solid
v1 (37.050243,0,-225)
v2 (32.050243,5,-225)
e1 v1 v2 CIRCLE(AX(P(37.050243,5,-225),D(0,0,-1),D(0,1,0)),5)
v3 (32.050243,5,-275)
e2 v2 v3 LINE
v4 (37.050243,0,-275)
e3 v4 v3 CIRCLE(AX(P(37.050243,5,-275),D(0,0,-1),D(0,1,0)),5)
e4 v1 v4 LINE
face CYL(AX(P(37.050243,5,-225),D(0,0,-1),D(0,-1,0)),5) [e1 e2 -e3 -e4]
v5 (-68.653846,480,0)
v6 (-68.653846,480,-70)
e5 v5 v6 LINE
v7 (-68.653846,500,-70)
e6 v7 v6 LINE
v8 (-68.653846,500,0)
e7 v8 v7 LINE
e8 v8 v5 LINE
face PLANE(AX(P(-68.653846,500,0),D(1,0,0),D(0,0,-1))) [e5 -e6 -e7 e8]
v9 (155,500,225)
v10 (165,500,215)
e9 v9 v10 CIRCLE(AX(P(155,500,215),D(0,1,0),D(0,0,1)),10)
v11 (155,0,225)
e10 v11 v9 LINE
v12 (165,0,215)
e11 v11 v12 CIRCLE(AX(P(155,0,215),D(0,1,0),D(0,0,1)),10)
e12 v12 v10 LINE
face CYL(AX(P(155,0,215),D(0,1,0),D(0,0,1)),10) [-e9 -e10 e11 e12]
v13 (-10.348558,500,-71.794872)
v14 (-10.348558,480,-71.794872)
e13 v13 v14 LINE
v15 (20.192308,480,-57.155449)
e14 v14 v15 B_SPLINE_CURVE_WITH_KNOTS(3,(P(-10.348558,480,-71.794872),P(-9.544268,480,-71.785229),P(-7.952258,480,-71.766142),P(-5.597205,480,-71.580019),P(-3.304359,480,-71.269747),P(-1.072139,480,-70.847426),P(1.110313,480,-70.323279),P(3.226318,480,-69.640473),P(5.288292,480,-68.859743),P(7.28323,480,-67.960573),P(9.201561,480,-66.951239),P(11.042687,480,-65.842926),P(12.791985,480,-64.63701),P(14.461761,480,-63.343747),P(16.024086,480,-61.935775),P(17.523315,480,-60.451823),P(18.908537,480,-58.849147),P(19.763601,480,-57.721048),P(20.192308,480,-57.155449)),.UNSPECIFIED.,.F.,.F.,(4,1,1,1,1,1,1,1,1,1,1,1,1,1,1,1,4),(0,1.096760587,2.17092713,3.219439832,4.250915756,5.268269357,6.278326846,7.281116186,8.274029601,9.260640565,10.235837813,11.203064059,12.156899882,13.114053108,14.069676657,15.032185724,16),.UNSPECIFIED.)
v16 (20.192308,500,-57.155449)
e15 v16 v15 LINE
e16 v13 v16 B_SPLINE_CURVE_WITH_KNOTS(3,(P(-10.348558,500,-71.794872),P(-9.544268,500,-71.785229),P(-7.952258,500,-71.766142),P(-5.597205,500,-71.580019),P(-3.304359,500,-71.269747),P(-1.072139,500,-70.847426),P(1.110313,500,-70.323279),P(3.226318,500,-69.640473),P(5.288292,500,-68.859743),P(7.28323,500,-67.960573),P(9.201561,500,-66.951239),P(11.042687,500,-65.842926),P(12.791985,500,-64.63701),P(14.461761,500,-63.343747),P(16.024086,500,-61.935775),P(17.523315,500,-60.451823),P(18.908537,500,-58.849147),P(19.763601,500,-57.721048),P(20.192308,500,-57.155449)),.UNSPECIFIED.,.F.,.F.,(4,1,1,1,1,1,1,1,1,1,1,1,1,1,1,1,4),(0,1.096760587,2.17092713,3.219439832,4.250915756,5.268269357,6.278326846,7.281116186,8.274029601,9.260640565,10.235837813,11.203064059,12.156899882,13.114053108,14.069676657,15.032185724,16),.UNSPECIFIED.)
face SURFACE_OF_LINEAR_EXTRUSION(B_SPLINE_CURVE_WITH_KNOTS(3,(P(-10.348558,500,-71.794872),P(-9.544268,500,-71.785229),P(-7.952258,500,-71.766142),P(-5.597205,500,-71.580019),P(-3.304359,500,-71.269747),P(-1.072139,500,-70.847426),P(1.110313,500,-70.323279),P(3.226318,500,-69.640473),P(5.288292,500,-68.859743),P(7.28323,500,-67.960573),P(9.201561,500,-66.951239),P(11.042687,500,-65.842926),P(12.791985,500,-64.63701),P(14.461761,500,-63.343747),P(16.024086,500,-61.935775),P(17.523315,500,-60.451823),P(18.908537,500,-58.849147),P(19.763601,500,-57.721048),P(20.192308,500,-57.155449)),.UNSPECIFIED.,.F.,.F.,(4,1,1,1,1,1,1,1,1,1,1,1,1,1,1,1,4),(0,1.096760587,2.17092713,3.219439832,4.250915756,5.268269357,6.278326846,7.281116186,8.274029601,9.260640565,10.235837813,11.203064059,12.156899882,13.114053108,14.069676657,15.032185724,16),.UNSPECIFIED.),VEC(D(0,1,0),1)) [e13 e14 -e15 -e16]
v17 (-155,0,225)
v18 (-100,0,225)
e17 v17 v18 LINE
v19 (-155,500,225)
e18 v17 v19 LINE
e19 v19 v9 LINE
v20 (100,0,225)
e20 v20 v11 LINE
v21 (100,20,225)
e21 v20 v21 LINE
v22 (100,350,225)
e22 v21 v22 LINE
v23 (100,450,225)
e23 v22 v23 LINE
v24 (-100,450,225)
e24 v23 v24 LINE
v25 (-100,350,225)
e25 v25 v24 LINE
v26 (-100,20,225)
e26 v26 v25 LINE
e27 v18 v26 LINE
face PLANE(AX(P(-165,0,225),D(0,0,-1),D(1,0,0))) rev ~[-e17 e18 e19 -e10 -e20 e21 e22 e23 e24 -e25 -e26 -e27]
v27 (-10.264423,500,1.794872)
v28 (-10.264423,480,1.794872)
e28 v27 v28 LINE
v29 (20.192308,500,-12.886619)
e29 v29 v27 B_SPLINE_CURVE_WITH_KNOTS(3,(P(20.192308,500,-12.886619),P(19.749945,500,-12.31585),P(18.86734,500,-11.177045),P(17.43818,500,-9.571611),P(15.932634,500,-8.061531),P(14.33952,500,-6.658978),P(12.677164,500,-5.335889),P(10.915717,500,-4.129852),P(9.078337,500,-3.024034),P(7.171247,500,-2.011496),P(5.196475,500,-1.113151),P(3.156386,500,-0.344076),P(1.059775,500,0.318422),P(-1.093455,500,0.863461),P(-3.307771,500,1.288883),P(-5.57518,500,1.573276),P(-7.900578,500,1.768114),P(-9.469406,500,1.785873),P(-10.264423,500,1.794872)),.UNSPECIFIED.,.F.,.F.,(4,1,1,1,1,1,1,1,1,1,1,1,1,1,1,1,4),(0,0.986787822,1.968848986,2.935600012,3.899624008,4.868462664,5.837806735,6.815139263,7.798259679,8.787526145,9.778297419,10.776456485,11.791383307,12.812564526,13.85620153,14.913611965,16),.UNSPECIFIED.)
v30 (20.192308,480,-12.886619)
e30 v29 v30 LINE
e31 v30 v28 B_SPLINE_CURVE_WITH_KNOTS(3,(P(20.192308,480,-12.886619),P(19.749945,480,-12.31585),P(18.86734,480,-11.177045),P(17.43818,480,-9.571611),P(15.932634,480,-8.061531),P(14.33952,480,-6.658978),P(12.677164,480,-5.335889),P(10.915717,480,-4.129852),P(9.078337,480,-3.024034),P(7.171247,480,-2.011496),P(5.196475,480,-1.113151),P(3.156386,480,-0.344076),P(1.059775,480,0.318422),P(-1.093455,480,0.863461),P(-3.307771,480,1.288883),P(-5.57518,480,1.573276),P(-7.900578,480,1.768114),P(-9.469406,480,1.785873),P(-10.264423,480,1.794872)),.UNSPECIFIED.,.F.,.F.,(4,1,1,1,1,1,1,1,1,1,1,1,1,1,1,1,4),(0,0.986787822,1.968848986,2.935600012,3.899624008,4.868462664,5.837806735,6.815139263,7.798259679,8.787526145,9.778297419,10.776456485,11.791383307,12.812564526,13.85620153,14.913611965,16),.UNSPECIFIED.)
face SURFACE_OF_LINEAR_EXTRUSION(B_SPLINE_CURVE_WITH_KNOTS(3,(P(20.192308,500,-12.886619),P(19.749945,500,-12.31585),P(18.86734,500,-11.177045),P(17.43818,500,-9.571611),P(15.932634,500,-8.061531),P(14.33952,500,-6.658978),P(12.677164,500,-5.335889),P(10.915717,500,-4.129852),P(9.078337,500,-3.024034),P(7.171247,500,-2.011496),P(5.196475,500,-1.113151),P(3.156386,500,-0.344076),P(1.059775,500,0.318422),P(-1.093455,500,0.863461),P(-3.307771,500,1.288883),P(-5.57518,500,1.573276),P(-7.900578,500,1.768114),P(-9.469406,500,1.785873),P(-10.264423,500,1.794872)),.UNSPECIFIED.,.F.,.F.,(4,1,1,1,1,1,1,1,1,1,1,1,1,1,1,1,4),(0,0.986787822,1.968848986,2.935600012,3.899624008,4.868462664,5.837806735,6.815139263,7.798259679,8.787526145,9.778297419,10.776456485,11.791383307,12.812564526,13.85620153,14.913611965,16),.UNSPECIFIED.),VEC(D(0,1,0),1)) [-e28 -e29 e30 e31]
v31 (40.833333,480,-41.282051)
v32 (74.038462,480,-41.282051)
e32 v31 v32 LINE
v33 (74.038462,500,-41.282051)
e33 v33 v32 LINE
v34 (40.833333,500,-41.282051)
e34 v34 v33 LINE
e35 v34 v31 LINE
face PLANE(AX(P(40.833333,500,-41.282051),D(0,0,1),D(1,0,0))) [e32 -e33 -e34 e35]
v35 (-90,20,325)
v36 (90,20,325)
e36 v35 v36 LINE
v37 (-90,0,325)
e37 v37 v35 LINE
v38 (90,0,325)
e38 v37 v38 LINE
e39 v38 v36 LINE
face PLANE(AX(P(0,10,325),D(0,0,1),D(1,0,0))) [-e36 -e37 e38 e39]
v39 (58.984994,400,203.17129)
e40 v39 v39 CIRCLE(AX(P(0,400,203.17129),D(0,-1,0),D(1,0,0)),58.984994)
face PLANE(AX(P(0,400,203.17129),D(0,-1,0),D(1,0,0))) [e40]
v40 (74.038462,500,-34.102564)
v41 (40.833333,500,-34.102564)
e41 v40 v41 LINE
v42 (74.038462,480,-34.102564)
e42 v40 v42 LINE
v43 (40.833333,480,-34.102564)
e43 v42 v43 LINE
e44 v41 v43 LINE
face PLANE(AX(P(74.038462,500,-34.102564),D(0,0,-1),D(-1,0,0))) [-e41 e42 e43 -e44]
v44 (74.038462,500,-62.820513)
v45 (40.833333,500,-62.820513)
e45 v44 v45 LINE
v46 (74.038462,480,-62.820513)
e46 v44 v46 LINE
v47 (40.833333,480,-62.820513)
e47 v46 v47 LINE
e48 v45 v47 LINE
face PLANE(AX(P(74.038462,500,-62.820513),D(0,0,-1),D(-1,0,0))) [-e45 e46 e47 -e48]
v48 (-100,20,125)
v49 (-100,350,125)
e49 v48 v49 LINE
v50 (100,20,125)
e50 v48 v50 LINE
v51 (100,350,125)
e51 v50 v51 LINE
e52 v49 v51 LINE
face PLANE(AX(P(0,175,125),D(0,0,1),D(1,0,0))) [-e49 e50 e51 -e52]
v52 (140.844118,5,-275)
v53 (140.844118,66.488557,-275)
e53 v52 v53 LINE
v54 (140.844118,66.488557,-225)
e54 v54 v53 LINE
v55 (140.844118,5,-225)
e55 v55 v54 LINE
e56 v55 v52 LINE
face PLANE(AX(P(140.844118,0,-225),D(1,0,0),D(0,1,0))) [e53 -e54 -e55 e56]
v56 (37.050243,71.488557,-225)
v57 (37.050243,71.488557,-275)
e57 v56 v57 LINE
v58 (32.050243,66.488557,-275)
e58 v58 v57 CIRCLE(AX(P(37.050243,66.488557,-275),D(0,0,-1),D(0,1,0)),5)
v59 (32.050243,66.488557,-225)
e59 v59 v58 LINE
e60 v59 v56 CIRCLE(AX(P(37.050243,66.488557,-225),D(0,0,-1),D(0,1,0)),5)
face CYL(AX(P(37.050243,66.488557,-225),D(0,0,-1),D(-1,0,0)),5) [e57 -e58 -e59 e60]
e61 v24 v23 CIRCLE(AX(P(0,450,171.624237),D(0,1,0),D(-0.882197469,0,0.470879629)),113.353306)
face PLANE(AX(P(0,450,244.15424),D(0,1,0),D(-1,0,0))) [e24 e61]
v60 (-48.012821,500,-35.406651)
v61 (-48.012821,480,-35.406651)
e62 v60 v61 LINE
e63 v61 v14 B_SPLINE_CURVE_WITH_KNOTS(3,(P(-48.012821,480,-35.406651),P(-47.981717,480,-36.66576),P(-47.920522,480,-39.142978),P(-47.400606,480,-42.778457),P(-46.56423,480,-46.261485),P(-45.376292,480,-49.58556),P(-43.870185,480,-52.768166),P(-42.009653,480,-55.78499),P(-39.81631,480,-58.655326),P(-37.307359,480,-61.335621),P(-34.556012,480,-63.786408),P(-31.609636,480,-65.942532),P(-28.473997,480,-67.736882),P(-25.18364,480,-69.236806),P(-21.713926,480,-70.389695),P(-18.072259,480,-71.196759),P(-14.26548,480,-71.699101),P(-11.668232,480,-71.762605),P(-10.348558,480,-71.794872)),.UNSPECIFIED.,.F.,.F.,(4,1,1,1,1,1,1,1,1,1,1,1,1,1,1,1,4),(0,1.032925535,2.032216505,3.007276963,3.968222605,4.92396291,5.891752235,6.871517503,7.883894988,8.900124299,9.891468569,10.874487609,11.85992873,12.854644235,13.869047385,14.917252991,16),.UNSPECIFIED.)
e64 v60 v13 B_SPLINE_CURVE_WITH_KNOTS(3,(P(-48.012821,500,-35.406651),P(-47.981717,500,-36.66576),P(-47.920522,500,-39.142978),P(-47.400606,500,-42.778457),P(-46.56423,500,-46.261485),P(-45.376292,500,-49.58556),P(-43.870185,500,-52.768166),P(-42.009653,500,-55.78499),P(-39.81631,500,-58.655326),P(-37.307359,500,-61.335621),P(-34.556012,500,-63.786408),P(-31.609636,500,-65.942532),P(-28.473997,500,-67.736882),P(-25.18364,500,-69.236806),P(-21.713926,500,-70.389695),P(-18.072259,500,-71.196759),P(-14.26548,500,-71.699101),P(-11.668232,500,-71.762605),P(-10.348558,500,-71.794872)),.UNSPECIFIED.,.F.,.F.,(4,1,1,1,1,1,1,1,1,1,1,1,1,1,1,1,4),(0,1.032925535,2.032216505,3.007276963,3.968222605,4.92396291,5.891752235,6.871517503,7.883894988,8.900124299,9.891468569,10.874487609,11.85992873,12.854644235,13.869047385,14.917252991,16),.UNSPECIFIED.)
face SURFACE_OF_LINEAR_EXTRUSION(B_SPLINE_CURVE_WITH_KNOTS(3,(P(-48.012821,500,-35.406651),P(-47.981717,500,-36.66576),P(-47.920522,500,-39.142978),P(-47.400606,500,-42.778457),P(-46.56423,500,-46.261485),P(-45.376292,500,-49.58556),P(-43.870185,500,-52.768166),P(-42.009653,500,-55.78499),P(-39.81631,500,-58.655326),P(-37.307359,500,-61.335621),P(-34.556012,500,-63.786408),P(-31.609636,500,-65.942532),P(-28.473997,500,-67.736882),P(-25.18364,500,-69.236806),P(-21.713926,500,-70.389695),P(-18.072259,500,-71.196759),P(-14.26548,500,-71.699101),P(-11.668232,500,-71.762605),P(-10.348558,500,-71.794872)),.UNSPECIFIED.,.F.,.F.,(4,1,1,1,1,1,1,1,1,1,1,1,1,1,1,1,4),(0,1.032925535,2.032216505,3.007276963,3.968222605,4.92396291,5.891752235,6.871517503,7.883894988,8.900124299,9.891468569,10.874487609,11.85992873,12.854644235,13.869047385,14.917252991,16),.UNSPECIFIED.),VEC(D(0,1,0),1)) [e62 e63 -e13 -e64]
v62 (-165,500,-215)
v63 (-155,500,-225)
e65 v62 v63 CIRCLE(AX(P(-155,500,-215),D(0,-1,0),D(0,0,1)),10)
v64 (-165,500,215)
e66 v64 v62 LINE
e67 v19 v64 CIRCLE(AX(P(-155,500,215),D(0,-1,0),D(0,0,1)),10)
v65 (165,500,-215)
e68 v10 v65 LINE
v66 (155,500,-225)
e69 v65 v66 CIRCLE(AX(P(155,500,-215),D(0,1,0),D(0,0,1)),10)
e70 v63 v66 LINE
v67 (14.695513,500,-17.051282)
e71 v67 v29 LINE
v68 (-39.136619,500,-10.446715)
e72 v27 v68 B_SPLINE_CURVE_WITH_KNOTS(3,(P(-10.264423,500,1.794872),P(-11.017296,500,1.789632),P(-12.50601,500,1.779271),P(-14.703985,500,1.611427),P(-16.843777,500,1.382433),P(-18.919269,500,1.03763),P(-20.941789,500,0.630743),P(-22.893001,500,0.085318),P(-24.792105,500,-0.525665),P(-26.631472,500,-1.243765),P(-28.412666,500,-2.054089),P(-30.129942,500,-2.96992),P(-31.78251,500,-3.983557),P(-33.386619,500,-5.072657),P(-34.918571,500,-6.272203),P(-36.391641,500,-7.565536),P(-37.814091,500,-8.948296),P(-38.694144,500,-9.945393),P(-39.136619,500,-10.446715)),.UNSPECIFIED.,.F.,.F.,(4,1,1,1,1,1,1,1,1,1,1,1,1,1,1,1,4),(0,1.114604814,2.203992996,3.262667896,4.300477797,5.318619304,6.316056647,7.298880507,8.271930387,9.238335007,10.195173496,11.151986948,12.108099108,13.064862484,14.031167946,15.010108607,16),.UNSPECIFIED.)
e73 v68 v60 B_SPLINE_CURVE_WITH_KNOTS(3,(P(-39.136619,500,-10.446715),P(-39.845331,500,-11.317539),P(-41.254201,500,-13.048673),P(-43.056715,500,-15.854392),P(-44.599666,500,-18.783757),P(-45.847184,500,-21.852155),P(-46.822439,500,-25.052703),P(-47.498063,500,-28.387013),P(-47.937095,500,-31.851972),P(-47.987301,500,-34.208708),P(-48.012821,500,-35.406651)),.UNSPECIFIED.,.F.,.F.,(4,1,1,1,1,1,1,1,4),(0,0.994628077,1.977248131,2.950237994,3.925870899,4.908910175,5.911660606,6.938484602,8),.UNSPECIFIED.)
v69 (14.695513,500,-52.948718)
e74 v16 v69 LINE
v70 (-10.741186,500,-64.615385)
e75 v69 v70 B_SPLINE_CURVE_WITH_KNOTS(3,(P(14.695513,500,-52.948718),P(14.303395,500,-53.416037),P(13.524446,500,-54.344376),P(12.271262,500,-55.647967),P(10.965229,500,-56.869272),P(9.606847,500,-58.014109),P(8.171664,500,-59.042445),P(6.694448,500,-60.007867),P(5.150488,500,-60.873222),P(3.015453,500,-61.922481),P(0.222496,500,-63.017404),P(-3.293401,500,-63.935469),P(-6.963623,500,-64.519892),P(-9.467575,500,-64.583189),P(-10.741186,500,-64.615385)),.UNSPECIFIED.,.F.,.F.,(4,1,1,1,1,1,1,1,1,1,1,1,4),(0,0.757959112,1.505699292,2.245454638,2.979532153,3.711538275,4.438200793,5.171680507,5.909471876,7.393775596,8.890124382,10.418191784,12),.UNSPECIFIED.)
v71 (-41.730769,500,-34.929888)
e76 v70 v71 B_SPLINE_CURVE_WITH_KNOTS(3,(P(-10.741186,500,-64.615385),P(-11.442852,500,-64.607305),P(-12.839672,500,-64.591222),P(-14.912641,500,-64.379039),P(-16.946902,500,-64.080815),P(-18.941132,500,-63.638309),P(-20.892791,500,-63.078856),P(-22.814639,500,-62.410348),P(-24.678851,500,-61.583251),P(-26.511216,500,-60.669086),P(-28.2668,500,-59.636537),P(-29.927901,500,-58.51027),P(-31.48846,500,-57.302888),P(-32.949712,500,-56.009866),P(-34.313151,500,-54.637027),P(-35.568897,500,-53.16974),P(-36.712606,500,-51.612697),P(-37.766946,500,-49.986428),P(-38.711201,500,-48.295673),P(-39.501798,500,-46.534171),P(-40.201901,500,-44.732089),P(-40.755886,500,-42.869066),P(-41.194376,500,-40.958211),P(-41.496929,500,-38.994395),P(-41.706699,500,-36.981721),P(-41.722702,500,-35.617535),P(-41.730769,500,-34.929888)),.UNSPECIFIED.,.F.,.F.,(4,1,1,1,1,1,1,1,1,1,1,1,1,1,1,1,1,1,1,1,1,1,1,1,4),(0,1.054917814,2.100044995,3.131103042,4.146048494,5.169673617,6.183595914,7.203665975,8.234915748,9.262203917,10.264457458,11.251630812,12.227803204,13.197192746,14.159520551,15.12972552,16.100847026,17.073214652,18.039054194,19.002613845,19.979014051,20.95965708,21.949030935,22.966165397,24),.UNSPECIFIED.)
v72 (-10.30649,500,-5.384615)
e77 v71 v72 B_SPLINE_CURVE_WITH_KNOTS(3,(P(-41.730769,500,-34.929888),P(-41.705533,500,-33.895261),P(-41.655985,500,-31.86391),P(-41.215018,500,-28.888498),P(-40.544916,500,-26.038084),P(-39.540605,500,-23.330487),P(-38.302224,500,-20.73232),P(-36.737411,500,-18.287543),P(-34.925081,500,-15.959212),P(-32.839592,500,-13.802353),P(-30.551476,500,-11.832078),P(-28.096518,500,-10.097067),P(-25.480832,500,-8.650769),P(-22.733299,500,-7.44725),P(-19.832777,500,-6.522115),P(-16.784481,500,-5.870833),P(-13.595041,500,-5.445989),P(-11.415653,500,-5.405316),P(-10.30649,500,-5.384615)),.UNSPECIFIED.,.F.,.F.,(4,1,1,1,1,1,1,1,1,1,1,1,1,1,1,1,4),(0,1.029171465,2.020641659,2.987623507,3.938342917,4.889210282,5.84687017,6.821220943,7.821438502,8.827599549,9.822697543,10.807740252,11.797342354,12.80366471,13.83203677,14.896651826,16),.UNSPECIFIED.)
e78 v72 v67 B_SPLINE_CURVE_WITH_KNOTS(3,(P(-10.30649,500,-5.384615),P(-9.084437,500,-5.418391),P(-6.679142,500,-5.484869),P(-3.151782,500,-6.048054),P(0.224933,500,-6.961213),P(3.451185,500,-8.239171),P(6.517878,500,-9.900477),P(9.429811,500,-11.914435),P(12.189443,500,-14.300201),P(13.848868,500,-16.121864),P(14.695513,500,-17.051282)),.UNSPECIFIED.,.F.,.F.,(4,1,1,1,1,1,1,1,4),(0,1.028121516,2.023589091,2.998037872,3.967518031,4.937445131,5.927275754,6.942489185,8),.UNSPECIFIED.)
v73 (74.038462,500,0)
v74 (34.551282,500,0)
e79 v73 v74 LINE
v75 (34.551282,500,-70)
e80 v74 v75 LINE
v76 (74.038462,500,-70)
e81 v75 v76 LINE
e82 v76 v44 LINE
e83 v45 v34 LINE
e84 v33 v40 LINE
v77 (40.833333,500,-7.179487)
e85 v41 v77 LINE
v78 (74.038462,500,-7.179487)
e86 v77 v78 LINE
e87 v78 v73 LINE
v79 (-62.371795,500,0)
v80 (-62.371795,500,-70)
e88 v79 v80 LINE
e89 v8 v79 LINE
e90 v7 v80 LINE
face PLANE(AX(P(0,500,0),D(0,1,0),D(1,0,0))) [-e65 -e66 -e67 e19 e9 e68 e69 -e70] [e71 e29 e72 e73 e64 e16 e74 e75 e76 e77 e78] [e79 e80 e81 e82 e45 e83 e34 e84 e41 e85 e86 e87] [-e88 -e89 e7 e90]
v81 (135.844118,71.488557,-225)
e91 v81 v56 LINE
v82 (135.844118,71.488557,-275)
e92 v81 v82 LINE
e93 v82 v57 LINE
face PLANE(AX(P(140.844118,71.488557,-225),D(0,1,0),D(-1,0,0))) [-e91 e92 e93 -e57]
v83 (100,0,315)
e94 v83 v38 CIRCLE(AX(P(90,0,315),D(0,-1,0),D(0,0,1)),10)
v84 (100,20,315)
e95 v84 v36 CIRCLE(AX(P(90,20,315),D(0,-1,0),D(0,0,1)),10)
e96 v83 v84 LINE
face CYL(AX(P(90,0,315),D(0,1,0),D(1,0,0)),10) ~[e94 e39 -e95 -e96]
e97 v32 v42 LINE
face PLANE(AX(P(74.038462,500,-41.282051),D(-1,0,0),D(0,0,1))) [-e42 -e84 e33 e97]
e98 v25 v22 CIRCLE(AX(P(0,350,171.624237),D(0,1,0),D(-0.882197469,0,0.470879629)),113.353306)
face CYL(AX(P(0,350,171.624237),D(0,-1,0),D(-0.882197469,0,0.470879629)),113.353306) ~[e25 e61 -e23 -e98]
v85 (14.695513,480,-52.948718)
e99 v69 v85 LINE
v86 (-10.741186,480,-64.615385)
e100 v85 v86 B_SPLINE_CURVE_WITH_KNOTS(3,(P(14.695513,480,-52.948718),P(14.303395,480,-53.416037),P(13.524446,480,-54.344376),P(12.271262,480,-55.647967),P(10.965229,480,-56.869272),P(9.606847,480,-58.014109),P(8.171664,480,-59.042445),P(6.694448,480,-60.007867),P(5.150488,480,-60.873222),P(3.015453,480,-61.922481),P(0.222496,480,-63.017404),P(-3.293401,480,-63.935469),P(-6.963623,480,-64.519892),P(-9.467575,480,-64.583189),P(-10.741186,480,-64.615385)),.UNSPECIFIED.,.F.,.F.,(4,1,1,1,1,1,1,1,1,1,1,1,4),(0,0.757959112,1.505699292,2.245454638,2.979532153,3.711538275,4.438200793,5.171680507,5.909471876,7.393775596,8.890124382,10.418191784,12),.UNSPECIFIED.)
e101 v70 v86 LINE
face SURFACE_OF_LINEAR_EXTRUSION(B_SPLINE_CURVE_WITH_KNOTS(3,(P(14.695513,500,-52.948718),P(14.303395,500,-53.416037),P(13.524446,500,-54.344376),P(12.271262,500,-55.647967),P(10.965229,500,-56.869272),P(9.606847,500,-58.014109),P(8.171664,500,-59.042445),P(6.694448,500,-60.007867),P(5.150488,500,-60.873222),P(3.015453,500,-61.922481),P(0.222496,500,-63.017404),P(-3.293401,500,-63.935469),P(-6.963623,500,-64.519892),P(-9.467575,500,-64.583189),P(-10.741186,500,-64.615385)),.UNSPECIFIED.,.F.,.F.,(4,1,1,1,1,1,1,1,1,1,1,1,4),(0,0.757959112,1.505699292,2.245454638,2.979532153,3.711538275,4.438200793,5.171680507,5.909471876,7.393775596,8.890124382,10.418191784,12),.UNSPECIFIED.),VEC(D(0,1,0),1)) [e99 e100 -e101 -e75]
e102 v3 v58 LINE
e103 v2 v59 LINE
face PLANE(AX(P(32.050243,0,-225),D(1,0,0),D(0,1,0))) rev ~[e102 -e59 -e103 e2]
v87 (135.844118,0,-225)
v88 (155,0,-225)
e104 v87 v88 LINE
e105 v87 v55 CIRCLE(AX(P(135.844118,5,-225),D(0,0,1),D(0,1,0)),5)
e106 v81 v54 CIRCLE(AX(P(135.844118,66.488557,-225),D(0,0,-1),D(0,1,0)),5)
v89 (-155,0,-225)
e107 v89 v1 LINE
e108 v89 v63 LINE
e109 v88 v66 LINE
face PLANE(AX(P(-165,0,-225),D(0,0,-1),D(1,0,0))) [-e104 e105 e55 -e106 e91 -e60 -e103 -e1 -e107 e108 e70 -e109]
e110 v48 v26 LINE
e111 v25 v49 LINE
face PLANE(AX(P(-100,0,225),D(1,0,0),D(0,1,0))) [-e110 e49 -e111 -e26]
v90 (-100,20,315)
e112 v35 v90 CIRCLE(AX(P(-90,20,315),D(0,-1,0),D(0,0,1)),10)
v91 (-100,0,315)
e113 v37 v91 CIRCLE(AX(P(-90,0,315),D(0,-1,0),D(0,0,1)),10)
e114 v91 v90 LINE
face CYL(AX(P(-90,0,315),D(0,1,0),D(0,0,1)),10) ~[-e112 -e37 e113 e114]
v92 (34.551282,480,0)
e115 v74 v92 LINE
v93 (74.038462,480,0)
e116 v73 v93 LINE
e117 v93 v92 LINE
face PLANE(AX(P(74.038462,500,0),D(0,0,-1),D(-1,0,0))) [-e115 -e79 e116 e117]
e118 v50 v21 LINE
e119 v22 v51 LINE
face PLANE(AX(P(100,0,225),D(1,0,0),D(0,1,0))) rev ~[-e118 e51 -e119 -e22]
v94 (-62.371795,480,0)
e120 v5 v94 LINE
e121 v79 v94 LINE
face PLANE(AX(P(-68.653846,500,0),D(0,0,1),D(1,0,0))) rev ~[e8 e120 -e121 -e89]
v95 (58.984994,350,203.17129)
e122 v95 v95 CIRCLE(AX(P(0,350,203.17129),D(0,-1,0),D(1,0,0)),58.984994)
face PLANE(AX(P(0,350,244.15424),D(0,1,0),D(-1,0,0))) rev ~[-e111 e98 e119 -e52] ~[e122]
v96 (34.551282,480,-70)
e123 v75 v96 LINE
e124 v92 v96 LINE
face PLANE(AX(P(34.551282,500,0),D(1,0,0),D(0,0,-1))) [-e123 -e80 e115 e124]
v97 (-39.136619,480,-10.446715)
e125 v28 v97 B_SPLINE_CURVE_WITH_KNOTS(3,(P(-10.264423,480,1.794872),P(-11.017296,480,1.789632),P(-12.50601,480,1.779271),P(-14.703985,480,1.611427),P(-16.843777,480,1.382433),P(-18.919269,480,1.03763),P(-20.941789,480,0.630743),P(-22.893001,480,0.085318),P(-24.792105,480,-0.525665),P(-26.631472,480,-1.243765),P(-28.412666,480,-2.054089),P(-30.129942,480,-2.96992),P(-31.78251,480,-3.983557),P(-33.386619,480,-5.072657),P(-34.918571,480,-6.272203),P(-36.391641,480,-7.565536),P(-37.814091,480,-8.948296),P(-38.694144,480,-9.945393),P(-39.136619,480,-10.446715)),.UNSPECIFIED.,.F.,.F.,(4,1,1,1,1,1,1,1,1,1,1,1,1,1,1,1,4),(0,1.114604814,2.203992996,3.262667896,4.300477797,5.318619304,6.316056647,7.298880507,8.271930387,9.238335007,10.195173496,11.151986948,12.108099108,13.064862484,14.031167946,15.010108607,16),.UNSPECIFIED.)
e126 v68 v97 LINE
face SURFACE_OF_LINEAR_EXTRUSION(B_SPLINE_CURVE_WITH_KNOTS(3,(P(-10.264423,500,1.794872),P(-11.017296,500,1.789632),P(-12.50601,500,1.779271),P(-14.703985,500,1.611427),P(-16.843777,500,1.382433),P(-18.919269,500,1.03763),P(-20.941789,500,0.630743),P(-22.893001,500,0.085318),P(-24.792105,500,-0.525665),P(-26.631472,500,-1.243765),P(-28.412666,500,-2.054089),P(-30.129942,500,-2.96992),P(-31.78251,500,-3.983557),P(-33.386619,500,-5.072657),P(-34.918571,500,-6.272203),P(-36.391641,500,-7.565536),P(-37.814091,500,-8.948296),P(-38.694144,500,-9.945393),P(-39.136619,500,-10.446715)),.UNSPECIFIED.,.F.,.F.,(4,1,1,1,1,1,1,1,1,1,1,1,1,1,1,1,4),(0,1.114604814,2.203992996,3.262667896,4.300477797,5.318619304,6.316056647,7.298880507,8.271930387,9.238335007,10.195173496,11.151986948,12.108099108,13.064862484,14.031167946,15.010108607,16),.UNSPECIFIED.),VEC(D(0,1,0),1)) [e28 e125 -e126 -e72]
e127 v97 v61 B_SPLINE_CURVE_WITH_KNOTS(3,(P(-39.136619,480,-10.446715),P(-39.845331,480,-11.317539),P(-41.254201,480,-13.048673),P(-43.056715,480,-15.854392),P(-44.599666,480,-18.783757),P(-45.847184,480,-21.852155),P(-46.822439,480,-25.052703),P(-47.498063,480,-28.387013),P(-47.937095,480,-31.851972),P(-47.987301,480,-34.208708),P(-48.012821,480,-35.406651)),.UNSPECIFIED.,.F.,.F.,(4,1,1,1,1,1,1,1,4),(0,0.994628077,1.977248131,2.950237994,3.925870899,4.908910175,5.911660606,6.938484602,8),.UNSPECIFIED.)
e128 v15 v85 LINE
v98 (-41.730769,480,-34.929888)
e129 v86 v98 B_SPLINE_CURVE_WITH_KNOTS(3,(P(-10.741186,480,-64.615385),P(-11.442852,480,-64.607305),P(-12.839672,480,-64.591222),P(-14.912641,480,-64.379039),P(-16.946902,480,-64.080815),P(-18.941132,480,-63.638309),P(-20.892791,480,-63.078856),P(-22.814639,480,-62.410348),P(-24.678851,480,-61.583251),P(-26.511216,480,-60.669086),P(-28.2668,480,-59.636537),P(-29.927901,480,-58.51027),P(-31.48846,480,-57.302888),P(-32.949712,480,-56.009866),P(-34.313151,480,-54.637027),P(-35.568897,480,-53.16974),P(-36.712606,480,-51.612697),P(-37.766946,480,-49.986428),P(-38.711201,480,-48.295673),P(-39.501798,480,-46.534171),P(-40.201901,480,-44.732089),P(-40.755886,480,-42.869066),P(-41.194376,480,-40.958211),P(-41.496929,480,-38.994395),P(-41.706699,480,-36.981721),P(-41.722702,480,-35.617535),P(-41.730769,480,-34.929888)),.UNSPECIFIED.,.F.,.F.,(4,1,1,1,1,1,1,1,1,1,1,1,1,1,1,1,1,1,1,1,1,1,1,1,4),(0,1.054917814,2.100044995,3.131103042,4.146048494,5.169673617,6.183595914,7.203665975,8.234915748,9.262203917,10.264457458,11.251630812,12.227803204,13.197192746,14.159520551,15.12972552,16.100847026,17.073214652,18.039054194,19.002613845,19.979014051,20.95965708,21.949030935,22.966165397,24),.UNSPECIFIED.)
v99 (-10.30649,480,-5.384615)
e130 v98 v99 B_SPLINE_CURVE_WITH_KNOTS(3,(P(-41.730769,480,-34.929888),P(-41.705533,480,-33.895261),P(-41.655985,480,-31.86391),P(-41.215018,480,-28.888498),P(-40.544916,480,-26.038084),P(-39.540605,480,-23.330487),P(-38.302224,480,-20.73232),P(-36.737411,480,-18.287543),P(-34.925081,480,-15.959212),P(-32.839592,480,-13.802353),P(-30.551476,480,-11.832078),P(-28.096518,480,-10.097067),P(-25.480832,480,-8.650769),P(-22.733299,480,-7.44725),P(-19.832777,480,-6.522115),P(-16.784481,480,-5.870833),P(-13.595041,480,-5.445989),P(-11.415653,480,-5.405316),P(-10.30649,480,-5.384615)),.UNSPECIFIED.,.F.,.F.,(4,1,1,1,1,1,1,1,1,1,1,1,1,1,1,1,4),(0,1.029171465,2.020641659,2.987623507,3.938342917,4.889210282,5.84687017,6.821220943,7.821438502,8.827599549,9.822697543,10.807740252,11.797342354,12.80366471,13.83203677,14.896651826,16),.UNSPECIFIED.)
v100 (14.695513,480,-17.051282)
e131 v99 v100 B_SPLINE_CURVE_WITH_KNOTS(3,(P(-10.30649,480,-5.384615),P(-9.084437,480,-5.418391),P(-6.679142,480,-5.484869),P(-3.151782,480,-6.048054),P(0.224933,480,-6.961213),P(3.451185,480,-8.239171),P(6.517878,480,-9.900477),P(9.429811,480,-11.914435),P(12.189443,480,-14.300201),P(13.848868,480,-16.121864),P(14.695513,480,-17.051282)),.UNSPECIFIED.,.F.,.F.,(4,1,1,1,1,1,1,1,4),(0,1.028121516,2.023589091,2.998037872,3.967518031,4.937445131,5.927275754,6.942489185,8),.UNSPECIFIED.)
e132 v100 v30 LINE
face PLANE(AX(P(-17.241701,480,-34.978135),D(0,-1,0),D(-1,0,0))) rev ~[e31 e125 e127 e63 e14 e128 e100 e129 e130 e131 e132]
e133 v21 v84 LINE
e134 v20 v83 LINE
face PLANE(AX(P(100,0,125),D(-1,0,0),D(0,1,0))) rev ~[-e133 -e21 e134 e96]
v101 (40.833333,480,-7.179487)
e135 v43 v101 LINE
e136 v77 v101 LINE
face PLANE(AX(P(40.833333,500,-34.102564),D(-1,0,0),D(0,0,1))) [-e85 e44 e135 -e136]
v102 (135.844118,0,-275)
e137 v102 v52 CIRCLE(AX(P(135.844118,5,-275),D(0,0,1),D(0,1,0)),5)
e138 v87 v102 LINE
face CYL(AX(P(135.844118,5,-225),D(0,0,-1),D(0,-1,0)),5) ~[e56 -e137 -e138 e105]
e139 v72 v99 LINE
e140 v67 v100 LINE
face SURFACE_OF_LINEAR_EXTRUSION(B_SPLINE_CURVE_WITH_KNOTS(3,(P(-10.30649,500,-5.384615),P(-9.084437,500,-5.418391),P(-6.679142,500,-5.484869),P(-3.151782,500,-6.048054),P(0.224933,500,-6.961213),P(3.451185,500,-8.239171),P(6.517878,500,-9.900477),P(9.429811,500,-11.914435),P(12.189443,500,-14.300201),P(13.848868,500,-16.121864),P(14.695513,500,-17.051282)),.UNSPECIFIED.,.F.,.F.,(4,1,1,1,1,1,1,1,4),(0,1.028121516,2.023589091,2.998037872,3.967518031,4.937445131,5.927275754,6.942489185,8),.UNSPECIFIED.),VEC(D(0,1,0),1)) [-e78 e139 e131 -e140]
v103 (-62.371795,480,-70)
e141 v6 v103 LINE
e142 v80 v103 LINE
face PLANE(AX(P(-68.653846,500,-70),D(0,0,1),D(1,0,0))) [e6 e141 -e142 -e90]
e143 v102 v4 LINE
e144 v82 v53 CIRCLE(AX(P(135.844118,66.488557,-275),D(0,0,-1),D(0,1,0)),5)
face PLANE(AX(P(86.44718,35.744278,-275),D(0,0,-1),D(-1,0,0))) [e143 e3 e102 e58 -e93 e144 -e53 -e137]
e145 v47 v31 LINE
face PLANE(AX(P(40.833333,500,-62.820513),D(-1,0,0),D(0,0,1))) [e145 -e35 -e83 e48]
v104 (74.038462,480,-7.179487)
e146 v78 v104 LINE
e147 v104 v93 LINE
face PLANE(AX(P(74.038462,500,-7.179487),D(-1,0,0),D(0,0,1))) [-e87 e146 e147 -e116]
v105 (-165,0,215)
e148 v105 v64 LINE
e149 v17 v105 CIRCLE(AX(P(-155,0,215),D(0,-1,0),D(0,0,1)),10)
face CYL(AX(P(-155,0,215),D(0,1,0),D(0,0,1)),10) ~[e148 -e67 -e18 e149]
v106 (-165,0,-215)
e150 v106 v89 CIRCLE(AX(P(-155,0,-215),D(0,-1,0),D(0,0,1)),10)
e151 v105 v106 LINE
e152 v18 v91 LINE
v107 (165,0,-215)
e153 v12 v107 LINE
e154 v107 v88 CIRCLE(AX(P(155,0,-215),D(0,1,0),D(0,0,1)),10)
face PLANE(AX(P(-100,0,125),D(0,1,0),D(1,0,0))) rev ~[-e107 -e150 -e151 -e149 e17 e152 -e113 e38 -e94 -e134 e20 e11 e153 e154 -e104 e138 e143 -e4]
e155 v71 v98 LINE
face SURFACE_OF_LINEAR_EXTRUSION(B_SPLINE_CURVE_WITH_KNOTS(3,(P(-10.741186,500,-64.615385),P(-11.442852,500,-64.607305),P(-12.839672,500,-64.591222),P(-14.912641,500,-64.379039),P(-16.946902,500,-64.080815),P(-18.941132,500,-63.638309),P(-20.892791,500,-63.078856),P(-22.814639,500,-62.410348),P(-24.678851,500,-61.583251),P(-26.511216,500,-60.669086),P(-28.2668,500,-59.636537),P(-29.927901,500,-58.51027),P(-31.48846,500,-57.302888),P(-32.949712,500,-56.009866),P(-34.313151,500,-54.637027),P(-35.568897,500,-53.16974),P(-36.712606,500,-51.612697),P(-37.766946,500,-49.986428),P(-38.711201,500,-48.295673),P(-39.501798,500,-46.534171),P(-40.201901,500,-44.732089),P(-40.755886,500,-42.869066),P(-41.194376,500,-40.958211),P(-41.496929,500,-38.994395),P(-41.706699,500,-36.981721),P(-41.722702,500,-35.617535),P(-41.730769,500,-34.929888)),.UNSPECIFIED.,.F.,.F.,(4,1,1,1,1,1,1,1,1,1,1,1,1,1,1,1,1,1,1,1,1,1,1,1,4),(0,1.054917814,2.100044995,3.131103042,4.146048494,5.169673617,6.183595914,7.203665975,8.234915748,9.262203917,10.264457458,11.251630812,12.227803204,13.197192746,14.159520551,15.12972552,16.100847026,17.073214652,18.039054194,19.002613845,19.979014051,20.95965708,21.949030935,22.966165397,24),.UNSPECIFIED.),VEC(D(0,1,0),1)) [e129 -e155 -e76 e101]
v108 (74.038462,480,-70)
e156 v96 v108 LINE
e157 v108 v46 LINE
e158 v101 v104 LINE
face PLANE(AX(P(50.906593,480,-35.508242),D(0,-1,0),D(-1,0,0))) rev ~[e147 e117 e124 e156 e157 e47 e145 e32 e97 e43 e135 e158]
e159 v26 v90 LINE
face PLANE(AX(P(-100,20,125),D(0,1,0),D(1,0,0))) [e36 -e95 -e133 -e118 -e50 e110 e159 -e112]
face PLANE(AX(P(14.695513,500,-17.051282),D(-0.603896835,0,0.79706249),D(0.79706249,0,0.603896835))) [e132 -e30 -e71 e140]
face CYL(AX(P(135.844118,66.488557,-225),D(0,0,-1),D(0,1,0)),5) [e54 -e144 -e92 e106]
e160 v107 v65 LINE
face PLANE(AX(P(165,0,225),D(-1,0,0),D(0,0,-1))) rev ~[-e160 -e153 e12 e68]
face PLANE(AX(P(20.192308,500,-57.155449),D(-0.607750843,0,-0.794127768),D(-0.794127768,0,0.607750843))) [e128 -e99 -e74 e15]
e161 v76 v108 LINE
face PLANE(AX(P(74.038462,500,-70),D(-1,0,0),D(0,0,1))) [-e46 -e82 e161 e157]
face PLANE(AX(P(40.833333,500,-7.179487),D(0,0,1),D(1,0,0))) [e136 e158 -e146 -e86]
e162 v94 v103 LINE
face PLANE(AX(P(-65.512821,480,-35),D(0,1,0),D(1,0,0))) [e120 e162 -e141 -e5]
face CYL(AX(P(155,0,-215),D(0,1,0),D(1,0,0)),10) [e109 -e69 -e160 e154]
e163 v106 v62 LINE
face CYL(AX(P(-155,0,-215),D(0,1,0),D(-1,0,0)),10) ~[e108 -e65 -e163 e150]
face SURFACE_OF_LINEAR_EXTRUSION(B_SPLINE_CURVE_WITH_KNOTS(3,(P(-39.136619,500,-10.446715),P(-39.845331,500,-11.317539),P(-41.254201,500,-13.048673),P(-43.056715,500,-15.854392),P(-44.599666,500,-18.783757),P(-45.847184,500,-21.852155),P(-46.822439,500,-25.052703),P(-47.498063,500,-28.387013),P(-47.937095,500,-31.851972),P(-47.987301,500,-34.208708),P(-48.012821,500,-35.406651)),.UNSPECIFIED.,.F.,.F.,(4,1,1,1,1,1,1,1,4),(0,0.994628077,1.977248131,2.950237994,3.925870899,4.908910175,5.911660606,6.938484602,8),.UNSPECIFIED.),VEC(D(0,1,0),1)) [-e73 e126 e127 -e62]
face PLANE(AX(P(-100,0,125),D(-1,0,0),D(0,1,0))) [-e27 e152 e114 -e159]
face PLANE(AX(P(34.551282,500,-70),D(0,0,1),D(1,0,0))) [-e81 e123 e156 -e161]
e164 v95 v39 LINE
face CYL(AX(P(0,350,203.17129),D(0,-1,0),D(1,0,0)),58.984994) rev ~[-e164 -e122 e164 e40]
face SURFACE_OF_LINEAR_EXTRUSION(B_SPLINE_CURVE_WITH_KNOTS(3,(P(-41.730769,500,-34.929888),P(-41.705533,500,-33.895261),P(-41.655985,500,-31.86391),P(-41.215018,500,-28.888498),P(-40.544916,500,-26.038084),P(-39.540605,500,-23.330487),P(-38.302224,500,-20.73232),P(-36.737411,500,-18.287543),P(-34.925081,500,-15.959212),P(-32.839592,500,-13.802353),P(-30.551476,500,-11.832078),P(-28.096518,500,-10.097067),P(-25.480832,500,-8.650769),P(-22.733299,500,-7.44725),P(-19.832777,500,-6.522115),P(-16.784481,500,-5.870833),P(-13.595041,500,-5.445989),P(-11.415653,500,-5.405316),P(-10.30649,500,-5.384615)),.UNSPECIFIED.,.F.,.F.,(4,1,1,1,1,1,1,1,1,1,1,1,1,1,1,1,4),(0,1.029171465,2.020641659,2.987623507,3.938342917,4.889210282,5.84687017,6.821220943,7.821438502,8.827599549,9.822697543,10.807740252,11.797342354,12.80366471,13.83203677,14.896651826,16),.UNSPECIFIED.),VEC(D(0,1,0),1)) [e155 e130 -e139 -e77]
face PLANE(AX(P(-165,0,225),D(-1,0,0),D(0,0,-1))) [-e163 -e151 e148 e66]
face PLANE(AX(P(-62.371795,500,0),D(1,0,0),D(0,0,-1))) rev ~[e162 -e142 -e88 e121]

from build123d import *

# Parameters (mm, degrees)
SKETCH1_W           = 330
SKETCH1_H           = 450
BOSS_EXTRUDE1_DEPTH = 500
SKETCH2_W           = 200
SKETCH2_H           = 350
CUT_EXTRUDE1_DEPTH  = 100
BOSS_EXTRUDE2_DEPTH = 100
SKETCH4_W           = 200
SKETCH4_H           = 20
BOSS_EXTRUDE3_DEPTH = 200
SKETCH5_R           = 58.984993577
CUT_EXTRUDE2_DEPTH  = 50
FILLET1_R           = 10
SKETCH6_W           = 108.793875533
SKETCH6_H           = 71.48855694
BOSS_EXTRUDE4_DEPTH = 50
FILLET2_R           = 5
FILLET3_R           = 10
SKETCH7_W           = 6.282051282
SKETCH7_H           = 70
CUT_EXTRUDE3_DEPTH  = 20


with BuildPart() as part:
    # Sketch1 → Boss-Extrude1 (new body)
    with BuildSketch(Plane(origin=(0, 0, 0), x_dir=(1, 0, 0), z_dir=(0, 1, 0))):
        Rectangle(SKETCH1_W, SKETCH1_H)
    extrude(amount=BOSS_EXTRUDE1_DEPTH)

    # Sketch2 → Cut-Extrude1 (cut)
    with BuildSketch(Plane.XY.offset(225)):
        with Locations((0, 175)):
            Rectangle(SKETCH2_W, SKETCH2_H)
    extrude(amount=-CUT_EXTRUDE1_DEPTH, mode=Mode.SUBTRACT)

    # Sketch3 → Boss-Extrude2 (add)
    with BuildSketch(Plane.XZ.offset(-350)):
        with BuildLine():
            Line((100, 225), (-100, 225))
            ThreePointArc((-100, 225), (0, 284.9775435), (100, 225))
        make_face()
    extrude(amount=-BOSS_EXTRUDE2_DEPTH)

    # Sketch4 → Boss-Extrude3 (add)
    with BuildSketch(Plane.XY.offset(125)):
        with Locations((0, 10)):
            Rectangle(SKETCH4_W, SKETCH4_H)
    extrude(amount=BOSS_EXTRUDE3_DEPTH)

    # Sketch5 → Cut-Extrude2 (cut)
    with BuildSketch(Plane.XZ.offset(-350)):
        with Locations((0, 203.171289973)):
            Circle(SKETCH5_R)
    extrude(amount=-CUT_EXTRUDE2_DEPTH, mode=Mode.SUBTRACT)

    # Fillet1
    fillet1_edges = [part.edges().sort_by_distance(p)[0] for p in [
        (165, 250, 225),
        (-165, 250, 225),
        (-165, 250, -225),
        (165, 250, -225),
    ]]
    fillet(fillet1_edges, radius=FILLET1_R)

    # Sketch6 → Boss-Extrude4 (add)
    with BuildSketch(Plane(origin=(0, 0, -225), x_dir=(-1, 0, 0), z_dir=(0, 0, -1))):
        with Locations((-86.447180312, 35.74427847)):
            Rectangle(SKETCH6_W, SKETCH6_H)
    extrude(amount=BOSS_EXTRUDE4_DEPTH)

    # Fillet2
    fillet2_edges = [part.edges().sort_by_distance(p)[0] for p in [
        (140.844118078, 71.48855694, -250),
        (140.844118078, 0, -250),
        (32.050242545, 0, -250),
        (32.050242545, 71.48855694, -250),
    ]]
    fillet(fillet2_edges, radius=FILLET2_R)

    # Fillet3
    fillet3_edges = [part.edges().sort_by_distance(p)[0] for p in [
        (-100, 10, 325),
        (100, 10, 325),
    ]]
    fillet(fillet3_edges, radius=FILLET3_R)

    # Sketch7 → Cut-Extrude3 (cut)
    with BuildSketch(Plane(origin=(0, 500, 0), x_dir=(1, 0, 0), z_dir=(0, 1, 0))):
        with Locations((-65.512820513, 35)):
            Rectangle(SKETCH7_W, SKETCH7_H)
        with BuildLine():
            Line((20.192307692, 57.155448718), (14.695512821, 52.948717949))
            add(Edge.make_bspline(
                [(14.695512821, 52.948717949), (14.303395053, 53.416037345), (13.524446117, 54.34437566), (12.271262066, 55.647966549), (10.965229208, 56.869271778), (9.606846784, 58.01410937), (8.171664394, 59.042444685), (6.694448421, 60.007866744), (5.150487517, 60.873221503), (3.015452824, 61.922481225), (0.222495858, 63.017404325), (-3.293400923, 63.935468951), (-6.963622893, 64.519892465), (-9.467574885, 64.583189294), (-10.741185897, 64.615384615)],
                knots=[0, 0, 0, 0, 0.757959112, 1.505699292, 2.245454638, 2.979532153, 3.711538275, 4.438200793, 5.171680507, 5.909471876, 7.393775596, 8.890124382, 10.418191784, 12, 12, 12, 12], degree=3))
            add(Edge.make_bspline(
                [(-10.741185897, 64.615384615), (-11.442851884, 64.607305365), (-12.839671736, 64.591221848), (-14.912641206, 64.379039344), (-16.946902228, 64.080815143), (-18.941131553, 63.638308678), (-20.892790723, 63.078856297), (-22.814638765, 62.410348018), (-24.678850761, 61.583251221), (-26.511215525, 60.669086022), (-28.266799745, 59.636537127), (-29.9279007, 58.51027009), (-31.488460059, 57.302888161), (-32.949712302, 56.009866033), (-34.313151268, 54.637026824), (-35.568897484, 53.169739992), (-36.71260569, 51.612696522), (-37.766946191, 49.98642837), (-38.711200858, 48.295672538), (-39.501798446, 46.534171129), (-40.20190089, 44.732089068), (-40.755885743, 42.869065852), (-41.194376079, 40.958210535), (-41.496929345, 38.994394776), (-41.706698769, 36.981721184), (-41.722702307, 35.617534932), (-41.730769231, 34.929887821)],
                knots=[0, 0, 0, 0, 1.054917814, 2.100044995, 3.131103042, 4.146048494, 5.169673617, 6.183595914, 7.203665975, 8.234915748, 9.262203917, 10.264457458, 11.251630812, 12.227803204, 13.197192746, 14.159520551, 15.12972552, 16.100847026, 17.073214652, 18.039054194, 19.002613845, 19.979014051, 20.95965708, 21.949030935, 22.966165397, 24, 24, 24, 24], degree=3))
            add(Edge.make_bspline(
                [(-41.730769231, 34.929887821), (-41.70553285, 33.895261422), (-41.655984565, 31.863909725), (-41.215017883, 28.888497514), (-40.544916057, 26.038084039), (-39.540604519, 23.330487192), (-38.302223507, 20.732320031), (-36.737411277, 18.287542963), (-34.92508053, 15.959211673), (-32.839592141, 13.802352718), (-30.551475821, 11.832078212), (-28.096517589, 10.097066582), (-25.480831833, 8.650768932), (-22.73329923, 7.447250002), (-19.832776951, 6.522115449), (-16.784480903, 5.870832979), (-13.595040998, 5.445989368), (-11.415653, 5.405315607), (-10.306490385, 5.384615385)],
                knots=[0, 0, 0, 0, 1.029171465, 2.020641659, 2.987623507, 3.938342917, 4.889210282, 5.84687017, 6.821220943, 7.821438502, 8.827599549, 9.822697543, 10.807740252, 11.797342354, 12.80366471, 13.83203677, 14.896651826, 16, 16, 16, 16], degree=3))
            add(Edge.make_bspline(
                [(-10.306490385, 5.384615385), (-9.084436605, 5.41839098), (-6.679142426, 5.48486943), (-3.1517819, 6.048054413), (0.224933413, 6.96121277), (3.451185144, 8.239171216), (6.517878068, 9.900476974), (9.429811274, 11.914434522), (12.189442684, 14.300201177), (13.848868329, 16.121863743), (14.695512821, 17.051282051)],
                knots=[0, 0, 0, 0, 1.028121516, 2.023589091, 2.998037872, 3.967518031, 4.937445131, 5.927275754, 6.942489185, 8, 8, 8, 8], degree=3))
            Line((14.695512821, 17.051282051), (20.192307692, 12.88661859))
            add(Edge.make_bspline(
                [(20.192307692, 12.88661859), (19.749945495, 12.315849551), (18.867339989, 11.177045426), (17.43817965, 9.571611231), (15.932633702, 8.061530521), (14.339519502, 6.658978097), (12.67716367, 5.335888785), (10.915717423, 4.129852159), (9.078336773, 3.024034474), (7.171247195, 2.011495983), (5.196474939, 1.113151043), (3.15638624, 0.344075687), (1.05977473, -0.318422104), (-1.093455438, -0.863460838), (-3.307770575, -1.288882516), (-5.575180057, -1.573276013), (-7.900577561, -1.768114301), (-9.469405984, -1.785872618), (-10.264423077, -1.794871795)],
                knots=[0, 0, 0, 0, 0.986787822, 1.968848986, 2.935600012, 3.899624008, 4.868462664, 5.837806735, 6.815139263, 7.798259679, 8.787526145, 9.778297419, 10.776456485, 11.791383307, 12.812564526, 13.85620153, 14.913611965, 16, 16, 16, 16], degree=3))
            add(Edge.make_bspline(
                [(-10.264423077, -1.794871795), (-11.017296418, -1.789631944), (-12.50601022, -1.779270787), (-14.703985252, -1.611427439), (-16.843776868, -1.382432701), (-18.919269386, -1.037630079), (-20.941788887, -0.630743278), (-22.893000576, -0.085318146), (-24.792104784, 0.525665186), (-26.631471597, 1.243764921), (-28.412665593, 2.054088572), (-30.129941821, 2.96991975), (-31.782510469, 3.983557043), (-33.386618886, 5.072657252), (-34.918570559, 6.272203289), (-36.391641066, 7.565535979), (-37.814090591, 8.948296194), (-38.694144291, 9.945393261), (-39.13661859, 10.446714744)],
                knots=[0, 0, 0, 0, 1.114604814, 2.203992996, 3.262667896, 4.300477797, 5.318619304, 6.316056647, 7.298880507, 8.271930387, 9.238335007, 10.195173496, 11.151986948, 12.108099108, 13.064862484, 14.031167946, 15.010108607, 16, 16, 16, 16], degree=3))
            add(Edge.make_bspline(
                [(-39.13661859, 10.446714744), (-39.84533146, 11.317538522), (-41.254200996, 13.04867273), (-43.056714667, 15.854392355), (-44.599665772, 18.783756533), (-45.847184187, 21.852155108), (-46.82243885, 25.052702853), (-47.498062752, 28.387013141), (-47.937094841, 31.851971985), (-47.987300617, 34.208707759), (-48.012820513, 35.406650641)],
                knots=[0, 0, 0, 0, 0.994628077, 1.977248131, 2.950237994, 3.925870899, 4.908910175, 5.911660606, 6.938484602, 8, 8, 8, 8], degree=3))
            add(Edge.make_bspline(
                [(-48.012820513, 35.406650641), (-47.981716642, 36.665759712), (-47.920521717, 39.142978203), (-47.400605808, 42.778457269), (-46.564229884, 46.261485246), (-45.376292112, 49.585560138), (-43.870185086, 52.768165742), (-42.009652809, 55.784989839), (-39.816309965, 58.655325832), (-37.307358611, 61.335620858), (-34.556011905, 63.786407911), (-31.609635627, 65.942531986), (-28.473996688, 67.736882306), (-25.183639654, 69.236805554), (-21.713926023, 70.389694817), (-18.07225864, 71.196758551), (-14.265480345, 71.699100877), (-11.668231832, 71.762605035), (-10.348557692, 71.794871795)],
                knots=[0, 0, 0, 0, 1.032925535, 2.032216505, 3.007276963, 3.968222605, 4.92396291, 5.891752235, 6.871517503, 7.883894988, 8.900124299, 9.891468569, 10.874487609, 11.85992873, 12.854644235, 13.869047385, 14.917252991, 16, 16, 16, 16], degree=3))
            add(Edge.make_bspline(
                [(-10.348557692, 71.794871795), (-9.544268253, 71.785229031), (-7.952258307, 71.766142151), (-5.597205259, 71.580019309), (-3.30435872, 71.269747184), (-1.07213908, 70.847425788), (1.110313244, 70.323279359), (3.226318062, 69.640473392), (5.288291799, 68.859742766), (7.283229963, 67.960573447), (9.201560966, 66.951238619), (11.042687336, 65.842926148), (12.79198451, 64.637010038), (14.461761479, 63.34374653), (16.0240857, 61.935775344), (17.523315271, 60.451823425), (18.908536834, 58.849146941), (19.763600734, 57.721048263), (20.192307692, 57.155448718)],
                knots=[0, 0, 0, 0, 1.096760587, 2.17092713, 3.219439832, 4.250915756, 5.268269357, 6.278326846, 7.281116186, 8.274029601, 9.260640565, 10.235837813, 11.203064059, 12.156899882, 13.114053108, 14.069676657, 15.032185724, 16, 16, 16, 16], degree=3))
        make_face()
        Polygon((34.551282051, 70), (74.038461538, 70), (74.038461538, 62.820512821), (40.833333333, 62.820512821), (40.833333333, 41.282051282), (74.038461538, 41.282051282), (74.038461538, 34.102564103), (40.833333333, 34.102564103), (40.833333333, 7.179487179), (74.038461538, 7.179487179), (74.038461538, 0), (34.551282051, 0), align=None)
    extrude(amount=-CUT_EXTRUDE3_DEPTH, mode=Mode.SUBTRACT)


solid = part.part
